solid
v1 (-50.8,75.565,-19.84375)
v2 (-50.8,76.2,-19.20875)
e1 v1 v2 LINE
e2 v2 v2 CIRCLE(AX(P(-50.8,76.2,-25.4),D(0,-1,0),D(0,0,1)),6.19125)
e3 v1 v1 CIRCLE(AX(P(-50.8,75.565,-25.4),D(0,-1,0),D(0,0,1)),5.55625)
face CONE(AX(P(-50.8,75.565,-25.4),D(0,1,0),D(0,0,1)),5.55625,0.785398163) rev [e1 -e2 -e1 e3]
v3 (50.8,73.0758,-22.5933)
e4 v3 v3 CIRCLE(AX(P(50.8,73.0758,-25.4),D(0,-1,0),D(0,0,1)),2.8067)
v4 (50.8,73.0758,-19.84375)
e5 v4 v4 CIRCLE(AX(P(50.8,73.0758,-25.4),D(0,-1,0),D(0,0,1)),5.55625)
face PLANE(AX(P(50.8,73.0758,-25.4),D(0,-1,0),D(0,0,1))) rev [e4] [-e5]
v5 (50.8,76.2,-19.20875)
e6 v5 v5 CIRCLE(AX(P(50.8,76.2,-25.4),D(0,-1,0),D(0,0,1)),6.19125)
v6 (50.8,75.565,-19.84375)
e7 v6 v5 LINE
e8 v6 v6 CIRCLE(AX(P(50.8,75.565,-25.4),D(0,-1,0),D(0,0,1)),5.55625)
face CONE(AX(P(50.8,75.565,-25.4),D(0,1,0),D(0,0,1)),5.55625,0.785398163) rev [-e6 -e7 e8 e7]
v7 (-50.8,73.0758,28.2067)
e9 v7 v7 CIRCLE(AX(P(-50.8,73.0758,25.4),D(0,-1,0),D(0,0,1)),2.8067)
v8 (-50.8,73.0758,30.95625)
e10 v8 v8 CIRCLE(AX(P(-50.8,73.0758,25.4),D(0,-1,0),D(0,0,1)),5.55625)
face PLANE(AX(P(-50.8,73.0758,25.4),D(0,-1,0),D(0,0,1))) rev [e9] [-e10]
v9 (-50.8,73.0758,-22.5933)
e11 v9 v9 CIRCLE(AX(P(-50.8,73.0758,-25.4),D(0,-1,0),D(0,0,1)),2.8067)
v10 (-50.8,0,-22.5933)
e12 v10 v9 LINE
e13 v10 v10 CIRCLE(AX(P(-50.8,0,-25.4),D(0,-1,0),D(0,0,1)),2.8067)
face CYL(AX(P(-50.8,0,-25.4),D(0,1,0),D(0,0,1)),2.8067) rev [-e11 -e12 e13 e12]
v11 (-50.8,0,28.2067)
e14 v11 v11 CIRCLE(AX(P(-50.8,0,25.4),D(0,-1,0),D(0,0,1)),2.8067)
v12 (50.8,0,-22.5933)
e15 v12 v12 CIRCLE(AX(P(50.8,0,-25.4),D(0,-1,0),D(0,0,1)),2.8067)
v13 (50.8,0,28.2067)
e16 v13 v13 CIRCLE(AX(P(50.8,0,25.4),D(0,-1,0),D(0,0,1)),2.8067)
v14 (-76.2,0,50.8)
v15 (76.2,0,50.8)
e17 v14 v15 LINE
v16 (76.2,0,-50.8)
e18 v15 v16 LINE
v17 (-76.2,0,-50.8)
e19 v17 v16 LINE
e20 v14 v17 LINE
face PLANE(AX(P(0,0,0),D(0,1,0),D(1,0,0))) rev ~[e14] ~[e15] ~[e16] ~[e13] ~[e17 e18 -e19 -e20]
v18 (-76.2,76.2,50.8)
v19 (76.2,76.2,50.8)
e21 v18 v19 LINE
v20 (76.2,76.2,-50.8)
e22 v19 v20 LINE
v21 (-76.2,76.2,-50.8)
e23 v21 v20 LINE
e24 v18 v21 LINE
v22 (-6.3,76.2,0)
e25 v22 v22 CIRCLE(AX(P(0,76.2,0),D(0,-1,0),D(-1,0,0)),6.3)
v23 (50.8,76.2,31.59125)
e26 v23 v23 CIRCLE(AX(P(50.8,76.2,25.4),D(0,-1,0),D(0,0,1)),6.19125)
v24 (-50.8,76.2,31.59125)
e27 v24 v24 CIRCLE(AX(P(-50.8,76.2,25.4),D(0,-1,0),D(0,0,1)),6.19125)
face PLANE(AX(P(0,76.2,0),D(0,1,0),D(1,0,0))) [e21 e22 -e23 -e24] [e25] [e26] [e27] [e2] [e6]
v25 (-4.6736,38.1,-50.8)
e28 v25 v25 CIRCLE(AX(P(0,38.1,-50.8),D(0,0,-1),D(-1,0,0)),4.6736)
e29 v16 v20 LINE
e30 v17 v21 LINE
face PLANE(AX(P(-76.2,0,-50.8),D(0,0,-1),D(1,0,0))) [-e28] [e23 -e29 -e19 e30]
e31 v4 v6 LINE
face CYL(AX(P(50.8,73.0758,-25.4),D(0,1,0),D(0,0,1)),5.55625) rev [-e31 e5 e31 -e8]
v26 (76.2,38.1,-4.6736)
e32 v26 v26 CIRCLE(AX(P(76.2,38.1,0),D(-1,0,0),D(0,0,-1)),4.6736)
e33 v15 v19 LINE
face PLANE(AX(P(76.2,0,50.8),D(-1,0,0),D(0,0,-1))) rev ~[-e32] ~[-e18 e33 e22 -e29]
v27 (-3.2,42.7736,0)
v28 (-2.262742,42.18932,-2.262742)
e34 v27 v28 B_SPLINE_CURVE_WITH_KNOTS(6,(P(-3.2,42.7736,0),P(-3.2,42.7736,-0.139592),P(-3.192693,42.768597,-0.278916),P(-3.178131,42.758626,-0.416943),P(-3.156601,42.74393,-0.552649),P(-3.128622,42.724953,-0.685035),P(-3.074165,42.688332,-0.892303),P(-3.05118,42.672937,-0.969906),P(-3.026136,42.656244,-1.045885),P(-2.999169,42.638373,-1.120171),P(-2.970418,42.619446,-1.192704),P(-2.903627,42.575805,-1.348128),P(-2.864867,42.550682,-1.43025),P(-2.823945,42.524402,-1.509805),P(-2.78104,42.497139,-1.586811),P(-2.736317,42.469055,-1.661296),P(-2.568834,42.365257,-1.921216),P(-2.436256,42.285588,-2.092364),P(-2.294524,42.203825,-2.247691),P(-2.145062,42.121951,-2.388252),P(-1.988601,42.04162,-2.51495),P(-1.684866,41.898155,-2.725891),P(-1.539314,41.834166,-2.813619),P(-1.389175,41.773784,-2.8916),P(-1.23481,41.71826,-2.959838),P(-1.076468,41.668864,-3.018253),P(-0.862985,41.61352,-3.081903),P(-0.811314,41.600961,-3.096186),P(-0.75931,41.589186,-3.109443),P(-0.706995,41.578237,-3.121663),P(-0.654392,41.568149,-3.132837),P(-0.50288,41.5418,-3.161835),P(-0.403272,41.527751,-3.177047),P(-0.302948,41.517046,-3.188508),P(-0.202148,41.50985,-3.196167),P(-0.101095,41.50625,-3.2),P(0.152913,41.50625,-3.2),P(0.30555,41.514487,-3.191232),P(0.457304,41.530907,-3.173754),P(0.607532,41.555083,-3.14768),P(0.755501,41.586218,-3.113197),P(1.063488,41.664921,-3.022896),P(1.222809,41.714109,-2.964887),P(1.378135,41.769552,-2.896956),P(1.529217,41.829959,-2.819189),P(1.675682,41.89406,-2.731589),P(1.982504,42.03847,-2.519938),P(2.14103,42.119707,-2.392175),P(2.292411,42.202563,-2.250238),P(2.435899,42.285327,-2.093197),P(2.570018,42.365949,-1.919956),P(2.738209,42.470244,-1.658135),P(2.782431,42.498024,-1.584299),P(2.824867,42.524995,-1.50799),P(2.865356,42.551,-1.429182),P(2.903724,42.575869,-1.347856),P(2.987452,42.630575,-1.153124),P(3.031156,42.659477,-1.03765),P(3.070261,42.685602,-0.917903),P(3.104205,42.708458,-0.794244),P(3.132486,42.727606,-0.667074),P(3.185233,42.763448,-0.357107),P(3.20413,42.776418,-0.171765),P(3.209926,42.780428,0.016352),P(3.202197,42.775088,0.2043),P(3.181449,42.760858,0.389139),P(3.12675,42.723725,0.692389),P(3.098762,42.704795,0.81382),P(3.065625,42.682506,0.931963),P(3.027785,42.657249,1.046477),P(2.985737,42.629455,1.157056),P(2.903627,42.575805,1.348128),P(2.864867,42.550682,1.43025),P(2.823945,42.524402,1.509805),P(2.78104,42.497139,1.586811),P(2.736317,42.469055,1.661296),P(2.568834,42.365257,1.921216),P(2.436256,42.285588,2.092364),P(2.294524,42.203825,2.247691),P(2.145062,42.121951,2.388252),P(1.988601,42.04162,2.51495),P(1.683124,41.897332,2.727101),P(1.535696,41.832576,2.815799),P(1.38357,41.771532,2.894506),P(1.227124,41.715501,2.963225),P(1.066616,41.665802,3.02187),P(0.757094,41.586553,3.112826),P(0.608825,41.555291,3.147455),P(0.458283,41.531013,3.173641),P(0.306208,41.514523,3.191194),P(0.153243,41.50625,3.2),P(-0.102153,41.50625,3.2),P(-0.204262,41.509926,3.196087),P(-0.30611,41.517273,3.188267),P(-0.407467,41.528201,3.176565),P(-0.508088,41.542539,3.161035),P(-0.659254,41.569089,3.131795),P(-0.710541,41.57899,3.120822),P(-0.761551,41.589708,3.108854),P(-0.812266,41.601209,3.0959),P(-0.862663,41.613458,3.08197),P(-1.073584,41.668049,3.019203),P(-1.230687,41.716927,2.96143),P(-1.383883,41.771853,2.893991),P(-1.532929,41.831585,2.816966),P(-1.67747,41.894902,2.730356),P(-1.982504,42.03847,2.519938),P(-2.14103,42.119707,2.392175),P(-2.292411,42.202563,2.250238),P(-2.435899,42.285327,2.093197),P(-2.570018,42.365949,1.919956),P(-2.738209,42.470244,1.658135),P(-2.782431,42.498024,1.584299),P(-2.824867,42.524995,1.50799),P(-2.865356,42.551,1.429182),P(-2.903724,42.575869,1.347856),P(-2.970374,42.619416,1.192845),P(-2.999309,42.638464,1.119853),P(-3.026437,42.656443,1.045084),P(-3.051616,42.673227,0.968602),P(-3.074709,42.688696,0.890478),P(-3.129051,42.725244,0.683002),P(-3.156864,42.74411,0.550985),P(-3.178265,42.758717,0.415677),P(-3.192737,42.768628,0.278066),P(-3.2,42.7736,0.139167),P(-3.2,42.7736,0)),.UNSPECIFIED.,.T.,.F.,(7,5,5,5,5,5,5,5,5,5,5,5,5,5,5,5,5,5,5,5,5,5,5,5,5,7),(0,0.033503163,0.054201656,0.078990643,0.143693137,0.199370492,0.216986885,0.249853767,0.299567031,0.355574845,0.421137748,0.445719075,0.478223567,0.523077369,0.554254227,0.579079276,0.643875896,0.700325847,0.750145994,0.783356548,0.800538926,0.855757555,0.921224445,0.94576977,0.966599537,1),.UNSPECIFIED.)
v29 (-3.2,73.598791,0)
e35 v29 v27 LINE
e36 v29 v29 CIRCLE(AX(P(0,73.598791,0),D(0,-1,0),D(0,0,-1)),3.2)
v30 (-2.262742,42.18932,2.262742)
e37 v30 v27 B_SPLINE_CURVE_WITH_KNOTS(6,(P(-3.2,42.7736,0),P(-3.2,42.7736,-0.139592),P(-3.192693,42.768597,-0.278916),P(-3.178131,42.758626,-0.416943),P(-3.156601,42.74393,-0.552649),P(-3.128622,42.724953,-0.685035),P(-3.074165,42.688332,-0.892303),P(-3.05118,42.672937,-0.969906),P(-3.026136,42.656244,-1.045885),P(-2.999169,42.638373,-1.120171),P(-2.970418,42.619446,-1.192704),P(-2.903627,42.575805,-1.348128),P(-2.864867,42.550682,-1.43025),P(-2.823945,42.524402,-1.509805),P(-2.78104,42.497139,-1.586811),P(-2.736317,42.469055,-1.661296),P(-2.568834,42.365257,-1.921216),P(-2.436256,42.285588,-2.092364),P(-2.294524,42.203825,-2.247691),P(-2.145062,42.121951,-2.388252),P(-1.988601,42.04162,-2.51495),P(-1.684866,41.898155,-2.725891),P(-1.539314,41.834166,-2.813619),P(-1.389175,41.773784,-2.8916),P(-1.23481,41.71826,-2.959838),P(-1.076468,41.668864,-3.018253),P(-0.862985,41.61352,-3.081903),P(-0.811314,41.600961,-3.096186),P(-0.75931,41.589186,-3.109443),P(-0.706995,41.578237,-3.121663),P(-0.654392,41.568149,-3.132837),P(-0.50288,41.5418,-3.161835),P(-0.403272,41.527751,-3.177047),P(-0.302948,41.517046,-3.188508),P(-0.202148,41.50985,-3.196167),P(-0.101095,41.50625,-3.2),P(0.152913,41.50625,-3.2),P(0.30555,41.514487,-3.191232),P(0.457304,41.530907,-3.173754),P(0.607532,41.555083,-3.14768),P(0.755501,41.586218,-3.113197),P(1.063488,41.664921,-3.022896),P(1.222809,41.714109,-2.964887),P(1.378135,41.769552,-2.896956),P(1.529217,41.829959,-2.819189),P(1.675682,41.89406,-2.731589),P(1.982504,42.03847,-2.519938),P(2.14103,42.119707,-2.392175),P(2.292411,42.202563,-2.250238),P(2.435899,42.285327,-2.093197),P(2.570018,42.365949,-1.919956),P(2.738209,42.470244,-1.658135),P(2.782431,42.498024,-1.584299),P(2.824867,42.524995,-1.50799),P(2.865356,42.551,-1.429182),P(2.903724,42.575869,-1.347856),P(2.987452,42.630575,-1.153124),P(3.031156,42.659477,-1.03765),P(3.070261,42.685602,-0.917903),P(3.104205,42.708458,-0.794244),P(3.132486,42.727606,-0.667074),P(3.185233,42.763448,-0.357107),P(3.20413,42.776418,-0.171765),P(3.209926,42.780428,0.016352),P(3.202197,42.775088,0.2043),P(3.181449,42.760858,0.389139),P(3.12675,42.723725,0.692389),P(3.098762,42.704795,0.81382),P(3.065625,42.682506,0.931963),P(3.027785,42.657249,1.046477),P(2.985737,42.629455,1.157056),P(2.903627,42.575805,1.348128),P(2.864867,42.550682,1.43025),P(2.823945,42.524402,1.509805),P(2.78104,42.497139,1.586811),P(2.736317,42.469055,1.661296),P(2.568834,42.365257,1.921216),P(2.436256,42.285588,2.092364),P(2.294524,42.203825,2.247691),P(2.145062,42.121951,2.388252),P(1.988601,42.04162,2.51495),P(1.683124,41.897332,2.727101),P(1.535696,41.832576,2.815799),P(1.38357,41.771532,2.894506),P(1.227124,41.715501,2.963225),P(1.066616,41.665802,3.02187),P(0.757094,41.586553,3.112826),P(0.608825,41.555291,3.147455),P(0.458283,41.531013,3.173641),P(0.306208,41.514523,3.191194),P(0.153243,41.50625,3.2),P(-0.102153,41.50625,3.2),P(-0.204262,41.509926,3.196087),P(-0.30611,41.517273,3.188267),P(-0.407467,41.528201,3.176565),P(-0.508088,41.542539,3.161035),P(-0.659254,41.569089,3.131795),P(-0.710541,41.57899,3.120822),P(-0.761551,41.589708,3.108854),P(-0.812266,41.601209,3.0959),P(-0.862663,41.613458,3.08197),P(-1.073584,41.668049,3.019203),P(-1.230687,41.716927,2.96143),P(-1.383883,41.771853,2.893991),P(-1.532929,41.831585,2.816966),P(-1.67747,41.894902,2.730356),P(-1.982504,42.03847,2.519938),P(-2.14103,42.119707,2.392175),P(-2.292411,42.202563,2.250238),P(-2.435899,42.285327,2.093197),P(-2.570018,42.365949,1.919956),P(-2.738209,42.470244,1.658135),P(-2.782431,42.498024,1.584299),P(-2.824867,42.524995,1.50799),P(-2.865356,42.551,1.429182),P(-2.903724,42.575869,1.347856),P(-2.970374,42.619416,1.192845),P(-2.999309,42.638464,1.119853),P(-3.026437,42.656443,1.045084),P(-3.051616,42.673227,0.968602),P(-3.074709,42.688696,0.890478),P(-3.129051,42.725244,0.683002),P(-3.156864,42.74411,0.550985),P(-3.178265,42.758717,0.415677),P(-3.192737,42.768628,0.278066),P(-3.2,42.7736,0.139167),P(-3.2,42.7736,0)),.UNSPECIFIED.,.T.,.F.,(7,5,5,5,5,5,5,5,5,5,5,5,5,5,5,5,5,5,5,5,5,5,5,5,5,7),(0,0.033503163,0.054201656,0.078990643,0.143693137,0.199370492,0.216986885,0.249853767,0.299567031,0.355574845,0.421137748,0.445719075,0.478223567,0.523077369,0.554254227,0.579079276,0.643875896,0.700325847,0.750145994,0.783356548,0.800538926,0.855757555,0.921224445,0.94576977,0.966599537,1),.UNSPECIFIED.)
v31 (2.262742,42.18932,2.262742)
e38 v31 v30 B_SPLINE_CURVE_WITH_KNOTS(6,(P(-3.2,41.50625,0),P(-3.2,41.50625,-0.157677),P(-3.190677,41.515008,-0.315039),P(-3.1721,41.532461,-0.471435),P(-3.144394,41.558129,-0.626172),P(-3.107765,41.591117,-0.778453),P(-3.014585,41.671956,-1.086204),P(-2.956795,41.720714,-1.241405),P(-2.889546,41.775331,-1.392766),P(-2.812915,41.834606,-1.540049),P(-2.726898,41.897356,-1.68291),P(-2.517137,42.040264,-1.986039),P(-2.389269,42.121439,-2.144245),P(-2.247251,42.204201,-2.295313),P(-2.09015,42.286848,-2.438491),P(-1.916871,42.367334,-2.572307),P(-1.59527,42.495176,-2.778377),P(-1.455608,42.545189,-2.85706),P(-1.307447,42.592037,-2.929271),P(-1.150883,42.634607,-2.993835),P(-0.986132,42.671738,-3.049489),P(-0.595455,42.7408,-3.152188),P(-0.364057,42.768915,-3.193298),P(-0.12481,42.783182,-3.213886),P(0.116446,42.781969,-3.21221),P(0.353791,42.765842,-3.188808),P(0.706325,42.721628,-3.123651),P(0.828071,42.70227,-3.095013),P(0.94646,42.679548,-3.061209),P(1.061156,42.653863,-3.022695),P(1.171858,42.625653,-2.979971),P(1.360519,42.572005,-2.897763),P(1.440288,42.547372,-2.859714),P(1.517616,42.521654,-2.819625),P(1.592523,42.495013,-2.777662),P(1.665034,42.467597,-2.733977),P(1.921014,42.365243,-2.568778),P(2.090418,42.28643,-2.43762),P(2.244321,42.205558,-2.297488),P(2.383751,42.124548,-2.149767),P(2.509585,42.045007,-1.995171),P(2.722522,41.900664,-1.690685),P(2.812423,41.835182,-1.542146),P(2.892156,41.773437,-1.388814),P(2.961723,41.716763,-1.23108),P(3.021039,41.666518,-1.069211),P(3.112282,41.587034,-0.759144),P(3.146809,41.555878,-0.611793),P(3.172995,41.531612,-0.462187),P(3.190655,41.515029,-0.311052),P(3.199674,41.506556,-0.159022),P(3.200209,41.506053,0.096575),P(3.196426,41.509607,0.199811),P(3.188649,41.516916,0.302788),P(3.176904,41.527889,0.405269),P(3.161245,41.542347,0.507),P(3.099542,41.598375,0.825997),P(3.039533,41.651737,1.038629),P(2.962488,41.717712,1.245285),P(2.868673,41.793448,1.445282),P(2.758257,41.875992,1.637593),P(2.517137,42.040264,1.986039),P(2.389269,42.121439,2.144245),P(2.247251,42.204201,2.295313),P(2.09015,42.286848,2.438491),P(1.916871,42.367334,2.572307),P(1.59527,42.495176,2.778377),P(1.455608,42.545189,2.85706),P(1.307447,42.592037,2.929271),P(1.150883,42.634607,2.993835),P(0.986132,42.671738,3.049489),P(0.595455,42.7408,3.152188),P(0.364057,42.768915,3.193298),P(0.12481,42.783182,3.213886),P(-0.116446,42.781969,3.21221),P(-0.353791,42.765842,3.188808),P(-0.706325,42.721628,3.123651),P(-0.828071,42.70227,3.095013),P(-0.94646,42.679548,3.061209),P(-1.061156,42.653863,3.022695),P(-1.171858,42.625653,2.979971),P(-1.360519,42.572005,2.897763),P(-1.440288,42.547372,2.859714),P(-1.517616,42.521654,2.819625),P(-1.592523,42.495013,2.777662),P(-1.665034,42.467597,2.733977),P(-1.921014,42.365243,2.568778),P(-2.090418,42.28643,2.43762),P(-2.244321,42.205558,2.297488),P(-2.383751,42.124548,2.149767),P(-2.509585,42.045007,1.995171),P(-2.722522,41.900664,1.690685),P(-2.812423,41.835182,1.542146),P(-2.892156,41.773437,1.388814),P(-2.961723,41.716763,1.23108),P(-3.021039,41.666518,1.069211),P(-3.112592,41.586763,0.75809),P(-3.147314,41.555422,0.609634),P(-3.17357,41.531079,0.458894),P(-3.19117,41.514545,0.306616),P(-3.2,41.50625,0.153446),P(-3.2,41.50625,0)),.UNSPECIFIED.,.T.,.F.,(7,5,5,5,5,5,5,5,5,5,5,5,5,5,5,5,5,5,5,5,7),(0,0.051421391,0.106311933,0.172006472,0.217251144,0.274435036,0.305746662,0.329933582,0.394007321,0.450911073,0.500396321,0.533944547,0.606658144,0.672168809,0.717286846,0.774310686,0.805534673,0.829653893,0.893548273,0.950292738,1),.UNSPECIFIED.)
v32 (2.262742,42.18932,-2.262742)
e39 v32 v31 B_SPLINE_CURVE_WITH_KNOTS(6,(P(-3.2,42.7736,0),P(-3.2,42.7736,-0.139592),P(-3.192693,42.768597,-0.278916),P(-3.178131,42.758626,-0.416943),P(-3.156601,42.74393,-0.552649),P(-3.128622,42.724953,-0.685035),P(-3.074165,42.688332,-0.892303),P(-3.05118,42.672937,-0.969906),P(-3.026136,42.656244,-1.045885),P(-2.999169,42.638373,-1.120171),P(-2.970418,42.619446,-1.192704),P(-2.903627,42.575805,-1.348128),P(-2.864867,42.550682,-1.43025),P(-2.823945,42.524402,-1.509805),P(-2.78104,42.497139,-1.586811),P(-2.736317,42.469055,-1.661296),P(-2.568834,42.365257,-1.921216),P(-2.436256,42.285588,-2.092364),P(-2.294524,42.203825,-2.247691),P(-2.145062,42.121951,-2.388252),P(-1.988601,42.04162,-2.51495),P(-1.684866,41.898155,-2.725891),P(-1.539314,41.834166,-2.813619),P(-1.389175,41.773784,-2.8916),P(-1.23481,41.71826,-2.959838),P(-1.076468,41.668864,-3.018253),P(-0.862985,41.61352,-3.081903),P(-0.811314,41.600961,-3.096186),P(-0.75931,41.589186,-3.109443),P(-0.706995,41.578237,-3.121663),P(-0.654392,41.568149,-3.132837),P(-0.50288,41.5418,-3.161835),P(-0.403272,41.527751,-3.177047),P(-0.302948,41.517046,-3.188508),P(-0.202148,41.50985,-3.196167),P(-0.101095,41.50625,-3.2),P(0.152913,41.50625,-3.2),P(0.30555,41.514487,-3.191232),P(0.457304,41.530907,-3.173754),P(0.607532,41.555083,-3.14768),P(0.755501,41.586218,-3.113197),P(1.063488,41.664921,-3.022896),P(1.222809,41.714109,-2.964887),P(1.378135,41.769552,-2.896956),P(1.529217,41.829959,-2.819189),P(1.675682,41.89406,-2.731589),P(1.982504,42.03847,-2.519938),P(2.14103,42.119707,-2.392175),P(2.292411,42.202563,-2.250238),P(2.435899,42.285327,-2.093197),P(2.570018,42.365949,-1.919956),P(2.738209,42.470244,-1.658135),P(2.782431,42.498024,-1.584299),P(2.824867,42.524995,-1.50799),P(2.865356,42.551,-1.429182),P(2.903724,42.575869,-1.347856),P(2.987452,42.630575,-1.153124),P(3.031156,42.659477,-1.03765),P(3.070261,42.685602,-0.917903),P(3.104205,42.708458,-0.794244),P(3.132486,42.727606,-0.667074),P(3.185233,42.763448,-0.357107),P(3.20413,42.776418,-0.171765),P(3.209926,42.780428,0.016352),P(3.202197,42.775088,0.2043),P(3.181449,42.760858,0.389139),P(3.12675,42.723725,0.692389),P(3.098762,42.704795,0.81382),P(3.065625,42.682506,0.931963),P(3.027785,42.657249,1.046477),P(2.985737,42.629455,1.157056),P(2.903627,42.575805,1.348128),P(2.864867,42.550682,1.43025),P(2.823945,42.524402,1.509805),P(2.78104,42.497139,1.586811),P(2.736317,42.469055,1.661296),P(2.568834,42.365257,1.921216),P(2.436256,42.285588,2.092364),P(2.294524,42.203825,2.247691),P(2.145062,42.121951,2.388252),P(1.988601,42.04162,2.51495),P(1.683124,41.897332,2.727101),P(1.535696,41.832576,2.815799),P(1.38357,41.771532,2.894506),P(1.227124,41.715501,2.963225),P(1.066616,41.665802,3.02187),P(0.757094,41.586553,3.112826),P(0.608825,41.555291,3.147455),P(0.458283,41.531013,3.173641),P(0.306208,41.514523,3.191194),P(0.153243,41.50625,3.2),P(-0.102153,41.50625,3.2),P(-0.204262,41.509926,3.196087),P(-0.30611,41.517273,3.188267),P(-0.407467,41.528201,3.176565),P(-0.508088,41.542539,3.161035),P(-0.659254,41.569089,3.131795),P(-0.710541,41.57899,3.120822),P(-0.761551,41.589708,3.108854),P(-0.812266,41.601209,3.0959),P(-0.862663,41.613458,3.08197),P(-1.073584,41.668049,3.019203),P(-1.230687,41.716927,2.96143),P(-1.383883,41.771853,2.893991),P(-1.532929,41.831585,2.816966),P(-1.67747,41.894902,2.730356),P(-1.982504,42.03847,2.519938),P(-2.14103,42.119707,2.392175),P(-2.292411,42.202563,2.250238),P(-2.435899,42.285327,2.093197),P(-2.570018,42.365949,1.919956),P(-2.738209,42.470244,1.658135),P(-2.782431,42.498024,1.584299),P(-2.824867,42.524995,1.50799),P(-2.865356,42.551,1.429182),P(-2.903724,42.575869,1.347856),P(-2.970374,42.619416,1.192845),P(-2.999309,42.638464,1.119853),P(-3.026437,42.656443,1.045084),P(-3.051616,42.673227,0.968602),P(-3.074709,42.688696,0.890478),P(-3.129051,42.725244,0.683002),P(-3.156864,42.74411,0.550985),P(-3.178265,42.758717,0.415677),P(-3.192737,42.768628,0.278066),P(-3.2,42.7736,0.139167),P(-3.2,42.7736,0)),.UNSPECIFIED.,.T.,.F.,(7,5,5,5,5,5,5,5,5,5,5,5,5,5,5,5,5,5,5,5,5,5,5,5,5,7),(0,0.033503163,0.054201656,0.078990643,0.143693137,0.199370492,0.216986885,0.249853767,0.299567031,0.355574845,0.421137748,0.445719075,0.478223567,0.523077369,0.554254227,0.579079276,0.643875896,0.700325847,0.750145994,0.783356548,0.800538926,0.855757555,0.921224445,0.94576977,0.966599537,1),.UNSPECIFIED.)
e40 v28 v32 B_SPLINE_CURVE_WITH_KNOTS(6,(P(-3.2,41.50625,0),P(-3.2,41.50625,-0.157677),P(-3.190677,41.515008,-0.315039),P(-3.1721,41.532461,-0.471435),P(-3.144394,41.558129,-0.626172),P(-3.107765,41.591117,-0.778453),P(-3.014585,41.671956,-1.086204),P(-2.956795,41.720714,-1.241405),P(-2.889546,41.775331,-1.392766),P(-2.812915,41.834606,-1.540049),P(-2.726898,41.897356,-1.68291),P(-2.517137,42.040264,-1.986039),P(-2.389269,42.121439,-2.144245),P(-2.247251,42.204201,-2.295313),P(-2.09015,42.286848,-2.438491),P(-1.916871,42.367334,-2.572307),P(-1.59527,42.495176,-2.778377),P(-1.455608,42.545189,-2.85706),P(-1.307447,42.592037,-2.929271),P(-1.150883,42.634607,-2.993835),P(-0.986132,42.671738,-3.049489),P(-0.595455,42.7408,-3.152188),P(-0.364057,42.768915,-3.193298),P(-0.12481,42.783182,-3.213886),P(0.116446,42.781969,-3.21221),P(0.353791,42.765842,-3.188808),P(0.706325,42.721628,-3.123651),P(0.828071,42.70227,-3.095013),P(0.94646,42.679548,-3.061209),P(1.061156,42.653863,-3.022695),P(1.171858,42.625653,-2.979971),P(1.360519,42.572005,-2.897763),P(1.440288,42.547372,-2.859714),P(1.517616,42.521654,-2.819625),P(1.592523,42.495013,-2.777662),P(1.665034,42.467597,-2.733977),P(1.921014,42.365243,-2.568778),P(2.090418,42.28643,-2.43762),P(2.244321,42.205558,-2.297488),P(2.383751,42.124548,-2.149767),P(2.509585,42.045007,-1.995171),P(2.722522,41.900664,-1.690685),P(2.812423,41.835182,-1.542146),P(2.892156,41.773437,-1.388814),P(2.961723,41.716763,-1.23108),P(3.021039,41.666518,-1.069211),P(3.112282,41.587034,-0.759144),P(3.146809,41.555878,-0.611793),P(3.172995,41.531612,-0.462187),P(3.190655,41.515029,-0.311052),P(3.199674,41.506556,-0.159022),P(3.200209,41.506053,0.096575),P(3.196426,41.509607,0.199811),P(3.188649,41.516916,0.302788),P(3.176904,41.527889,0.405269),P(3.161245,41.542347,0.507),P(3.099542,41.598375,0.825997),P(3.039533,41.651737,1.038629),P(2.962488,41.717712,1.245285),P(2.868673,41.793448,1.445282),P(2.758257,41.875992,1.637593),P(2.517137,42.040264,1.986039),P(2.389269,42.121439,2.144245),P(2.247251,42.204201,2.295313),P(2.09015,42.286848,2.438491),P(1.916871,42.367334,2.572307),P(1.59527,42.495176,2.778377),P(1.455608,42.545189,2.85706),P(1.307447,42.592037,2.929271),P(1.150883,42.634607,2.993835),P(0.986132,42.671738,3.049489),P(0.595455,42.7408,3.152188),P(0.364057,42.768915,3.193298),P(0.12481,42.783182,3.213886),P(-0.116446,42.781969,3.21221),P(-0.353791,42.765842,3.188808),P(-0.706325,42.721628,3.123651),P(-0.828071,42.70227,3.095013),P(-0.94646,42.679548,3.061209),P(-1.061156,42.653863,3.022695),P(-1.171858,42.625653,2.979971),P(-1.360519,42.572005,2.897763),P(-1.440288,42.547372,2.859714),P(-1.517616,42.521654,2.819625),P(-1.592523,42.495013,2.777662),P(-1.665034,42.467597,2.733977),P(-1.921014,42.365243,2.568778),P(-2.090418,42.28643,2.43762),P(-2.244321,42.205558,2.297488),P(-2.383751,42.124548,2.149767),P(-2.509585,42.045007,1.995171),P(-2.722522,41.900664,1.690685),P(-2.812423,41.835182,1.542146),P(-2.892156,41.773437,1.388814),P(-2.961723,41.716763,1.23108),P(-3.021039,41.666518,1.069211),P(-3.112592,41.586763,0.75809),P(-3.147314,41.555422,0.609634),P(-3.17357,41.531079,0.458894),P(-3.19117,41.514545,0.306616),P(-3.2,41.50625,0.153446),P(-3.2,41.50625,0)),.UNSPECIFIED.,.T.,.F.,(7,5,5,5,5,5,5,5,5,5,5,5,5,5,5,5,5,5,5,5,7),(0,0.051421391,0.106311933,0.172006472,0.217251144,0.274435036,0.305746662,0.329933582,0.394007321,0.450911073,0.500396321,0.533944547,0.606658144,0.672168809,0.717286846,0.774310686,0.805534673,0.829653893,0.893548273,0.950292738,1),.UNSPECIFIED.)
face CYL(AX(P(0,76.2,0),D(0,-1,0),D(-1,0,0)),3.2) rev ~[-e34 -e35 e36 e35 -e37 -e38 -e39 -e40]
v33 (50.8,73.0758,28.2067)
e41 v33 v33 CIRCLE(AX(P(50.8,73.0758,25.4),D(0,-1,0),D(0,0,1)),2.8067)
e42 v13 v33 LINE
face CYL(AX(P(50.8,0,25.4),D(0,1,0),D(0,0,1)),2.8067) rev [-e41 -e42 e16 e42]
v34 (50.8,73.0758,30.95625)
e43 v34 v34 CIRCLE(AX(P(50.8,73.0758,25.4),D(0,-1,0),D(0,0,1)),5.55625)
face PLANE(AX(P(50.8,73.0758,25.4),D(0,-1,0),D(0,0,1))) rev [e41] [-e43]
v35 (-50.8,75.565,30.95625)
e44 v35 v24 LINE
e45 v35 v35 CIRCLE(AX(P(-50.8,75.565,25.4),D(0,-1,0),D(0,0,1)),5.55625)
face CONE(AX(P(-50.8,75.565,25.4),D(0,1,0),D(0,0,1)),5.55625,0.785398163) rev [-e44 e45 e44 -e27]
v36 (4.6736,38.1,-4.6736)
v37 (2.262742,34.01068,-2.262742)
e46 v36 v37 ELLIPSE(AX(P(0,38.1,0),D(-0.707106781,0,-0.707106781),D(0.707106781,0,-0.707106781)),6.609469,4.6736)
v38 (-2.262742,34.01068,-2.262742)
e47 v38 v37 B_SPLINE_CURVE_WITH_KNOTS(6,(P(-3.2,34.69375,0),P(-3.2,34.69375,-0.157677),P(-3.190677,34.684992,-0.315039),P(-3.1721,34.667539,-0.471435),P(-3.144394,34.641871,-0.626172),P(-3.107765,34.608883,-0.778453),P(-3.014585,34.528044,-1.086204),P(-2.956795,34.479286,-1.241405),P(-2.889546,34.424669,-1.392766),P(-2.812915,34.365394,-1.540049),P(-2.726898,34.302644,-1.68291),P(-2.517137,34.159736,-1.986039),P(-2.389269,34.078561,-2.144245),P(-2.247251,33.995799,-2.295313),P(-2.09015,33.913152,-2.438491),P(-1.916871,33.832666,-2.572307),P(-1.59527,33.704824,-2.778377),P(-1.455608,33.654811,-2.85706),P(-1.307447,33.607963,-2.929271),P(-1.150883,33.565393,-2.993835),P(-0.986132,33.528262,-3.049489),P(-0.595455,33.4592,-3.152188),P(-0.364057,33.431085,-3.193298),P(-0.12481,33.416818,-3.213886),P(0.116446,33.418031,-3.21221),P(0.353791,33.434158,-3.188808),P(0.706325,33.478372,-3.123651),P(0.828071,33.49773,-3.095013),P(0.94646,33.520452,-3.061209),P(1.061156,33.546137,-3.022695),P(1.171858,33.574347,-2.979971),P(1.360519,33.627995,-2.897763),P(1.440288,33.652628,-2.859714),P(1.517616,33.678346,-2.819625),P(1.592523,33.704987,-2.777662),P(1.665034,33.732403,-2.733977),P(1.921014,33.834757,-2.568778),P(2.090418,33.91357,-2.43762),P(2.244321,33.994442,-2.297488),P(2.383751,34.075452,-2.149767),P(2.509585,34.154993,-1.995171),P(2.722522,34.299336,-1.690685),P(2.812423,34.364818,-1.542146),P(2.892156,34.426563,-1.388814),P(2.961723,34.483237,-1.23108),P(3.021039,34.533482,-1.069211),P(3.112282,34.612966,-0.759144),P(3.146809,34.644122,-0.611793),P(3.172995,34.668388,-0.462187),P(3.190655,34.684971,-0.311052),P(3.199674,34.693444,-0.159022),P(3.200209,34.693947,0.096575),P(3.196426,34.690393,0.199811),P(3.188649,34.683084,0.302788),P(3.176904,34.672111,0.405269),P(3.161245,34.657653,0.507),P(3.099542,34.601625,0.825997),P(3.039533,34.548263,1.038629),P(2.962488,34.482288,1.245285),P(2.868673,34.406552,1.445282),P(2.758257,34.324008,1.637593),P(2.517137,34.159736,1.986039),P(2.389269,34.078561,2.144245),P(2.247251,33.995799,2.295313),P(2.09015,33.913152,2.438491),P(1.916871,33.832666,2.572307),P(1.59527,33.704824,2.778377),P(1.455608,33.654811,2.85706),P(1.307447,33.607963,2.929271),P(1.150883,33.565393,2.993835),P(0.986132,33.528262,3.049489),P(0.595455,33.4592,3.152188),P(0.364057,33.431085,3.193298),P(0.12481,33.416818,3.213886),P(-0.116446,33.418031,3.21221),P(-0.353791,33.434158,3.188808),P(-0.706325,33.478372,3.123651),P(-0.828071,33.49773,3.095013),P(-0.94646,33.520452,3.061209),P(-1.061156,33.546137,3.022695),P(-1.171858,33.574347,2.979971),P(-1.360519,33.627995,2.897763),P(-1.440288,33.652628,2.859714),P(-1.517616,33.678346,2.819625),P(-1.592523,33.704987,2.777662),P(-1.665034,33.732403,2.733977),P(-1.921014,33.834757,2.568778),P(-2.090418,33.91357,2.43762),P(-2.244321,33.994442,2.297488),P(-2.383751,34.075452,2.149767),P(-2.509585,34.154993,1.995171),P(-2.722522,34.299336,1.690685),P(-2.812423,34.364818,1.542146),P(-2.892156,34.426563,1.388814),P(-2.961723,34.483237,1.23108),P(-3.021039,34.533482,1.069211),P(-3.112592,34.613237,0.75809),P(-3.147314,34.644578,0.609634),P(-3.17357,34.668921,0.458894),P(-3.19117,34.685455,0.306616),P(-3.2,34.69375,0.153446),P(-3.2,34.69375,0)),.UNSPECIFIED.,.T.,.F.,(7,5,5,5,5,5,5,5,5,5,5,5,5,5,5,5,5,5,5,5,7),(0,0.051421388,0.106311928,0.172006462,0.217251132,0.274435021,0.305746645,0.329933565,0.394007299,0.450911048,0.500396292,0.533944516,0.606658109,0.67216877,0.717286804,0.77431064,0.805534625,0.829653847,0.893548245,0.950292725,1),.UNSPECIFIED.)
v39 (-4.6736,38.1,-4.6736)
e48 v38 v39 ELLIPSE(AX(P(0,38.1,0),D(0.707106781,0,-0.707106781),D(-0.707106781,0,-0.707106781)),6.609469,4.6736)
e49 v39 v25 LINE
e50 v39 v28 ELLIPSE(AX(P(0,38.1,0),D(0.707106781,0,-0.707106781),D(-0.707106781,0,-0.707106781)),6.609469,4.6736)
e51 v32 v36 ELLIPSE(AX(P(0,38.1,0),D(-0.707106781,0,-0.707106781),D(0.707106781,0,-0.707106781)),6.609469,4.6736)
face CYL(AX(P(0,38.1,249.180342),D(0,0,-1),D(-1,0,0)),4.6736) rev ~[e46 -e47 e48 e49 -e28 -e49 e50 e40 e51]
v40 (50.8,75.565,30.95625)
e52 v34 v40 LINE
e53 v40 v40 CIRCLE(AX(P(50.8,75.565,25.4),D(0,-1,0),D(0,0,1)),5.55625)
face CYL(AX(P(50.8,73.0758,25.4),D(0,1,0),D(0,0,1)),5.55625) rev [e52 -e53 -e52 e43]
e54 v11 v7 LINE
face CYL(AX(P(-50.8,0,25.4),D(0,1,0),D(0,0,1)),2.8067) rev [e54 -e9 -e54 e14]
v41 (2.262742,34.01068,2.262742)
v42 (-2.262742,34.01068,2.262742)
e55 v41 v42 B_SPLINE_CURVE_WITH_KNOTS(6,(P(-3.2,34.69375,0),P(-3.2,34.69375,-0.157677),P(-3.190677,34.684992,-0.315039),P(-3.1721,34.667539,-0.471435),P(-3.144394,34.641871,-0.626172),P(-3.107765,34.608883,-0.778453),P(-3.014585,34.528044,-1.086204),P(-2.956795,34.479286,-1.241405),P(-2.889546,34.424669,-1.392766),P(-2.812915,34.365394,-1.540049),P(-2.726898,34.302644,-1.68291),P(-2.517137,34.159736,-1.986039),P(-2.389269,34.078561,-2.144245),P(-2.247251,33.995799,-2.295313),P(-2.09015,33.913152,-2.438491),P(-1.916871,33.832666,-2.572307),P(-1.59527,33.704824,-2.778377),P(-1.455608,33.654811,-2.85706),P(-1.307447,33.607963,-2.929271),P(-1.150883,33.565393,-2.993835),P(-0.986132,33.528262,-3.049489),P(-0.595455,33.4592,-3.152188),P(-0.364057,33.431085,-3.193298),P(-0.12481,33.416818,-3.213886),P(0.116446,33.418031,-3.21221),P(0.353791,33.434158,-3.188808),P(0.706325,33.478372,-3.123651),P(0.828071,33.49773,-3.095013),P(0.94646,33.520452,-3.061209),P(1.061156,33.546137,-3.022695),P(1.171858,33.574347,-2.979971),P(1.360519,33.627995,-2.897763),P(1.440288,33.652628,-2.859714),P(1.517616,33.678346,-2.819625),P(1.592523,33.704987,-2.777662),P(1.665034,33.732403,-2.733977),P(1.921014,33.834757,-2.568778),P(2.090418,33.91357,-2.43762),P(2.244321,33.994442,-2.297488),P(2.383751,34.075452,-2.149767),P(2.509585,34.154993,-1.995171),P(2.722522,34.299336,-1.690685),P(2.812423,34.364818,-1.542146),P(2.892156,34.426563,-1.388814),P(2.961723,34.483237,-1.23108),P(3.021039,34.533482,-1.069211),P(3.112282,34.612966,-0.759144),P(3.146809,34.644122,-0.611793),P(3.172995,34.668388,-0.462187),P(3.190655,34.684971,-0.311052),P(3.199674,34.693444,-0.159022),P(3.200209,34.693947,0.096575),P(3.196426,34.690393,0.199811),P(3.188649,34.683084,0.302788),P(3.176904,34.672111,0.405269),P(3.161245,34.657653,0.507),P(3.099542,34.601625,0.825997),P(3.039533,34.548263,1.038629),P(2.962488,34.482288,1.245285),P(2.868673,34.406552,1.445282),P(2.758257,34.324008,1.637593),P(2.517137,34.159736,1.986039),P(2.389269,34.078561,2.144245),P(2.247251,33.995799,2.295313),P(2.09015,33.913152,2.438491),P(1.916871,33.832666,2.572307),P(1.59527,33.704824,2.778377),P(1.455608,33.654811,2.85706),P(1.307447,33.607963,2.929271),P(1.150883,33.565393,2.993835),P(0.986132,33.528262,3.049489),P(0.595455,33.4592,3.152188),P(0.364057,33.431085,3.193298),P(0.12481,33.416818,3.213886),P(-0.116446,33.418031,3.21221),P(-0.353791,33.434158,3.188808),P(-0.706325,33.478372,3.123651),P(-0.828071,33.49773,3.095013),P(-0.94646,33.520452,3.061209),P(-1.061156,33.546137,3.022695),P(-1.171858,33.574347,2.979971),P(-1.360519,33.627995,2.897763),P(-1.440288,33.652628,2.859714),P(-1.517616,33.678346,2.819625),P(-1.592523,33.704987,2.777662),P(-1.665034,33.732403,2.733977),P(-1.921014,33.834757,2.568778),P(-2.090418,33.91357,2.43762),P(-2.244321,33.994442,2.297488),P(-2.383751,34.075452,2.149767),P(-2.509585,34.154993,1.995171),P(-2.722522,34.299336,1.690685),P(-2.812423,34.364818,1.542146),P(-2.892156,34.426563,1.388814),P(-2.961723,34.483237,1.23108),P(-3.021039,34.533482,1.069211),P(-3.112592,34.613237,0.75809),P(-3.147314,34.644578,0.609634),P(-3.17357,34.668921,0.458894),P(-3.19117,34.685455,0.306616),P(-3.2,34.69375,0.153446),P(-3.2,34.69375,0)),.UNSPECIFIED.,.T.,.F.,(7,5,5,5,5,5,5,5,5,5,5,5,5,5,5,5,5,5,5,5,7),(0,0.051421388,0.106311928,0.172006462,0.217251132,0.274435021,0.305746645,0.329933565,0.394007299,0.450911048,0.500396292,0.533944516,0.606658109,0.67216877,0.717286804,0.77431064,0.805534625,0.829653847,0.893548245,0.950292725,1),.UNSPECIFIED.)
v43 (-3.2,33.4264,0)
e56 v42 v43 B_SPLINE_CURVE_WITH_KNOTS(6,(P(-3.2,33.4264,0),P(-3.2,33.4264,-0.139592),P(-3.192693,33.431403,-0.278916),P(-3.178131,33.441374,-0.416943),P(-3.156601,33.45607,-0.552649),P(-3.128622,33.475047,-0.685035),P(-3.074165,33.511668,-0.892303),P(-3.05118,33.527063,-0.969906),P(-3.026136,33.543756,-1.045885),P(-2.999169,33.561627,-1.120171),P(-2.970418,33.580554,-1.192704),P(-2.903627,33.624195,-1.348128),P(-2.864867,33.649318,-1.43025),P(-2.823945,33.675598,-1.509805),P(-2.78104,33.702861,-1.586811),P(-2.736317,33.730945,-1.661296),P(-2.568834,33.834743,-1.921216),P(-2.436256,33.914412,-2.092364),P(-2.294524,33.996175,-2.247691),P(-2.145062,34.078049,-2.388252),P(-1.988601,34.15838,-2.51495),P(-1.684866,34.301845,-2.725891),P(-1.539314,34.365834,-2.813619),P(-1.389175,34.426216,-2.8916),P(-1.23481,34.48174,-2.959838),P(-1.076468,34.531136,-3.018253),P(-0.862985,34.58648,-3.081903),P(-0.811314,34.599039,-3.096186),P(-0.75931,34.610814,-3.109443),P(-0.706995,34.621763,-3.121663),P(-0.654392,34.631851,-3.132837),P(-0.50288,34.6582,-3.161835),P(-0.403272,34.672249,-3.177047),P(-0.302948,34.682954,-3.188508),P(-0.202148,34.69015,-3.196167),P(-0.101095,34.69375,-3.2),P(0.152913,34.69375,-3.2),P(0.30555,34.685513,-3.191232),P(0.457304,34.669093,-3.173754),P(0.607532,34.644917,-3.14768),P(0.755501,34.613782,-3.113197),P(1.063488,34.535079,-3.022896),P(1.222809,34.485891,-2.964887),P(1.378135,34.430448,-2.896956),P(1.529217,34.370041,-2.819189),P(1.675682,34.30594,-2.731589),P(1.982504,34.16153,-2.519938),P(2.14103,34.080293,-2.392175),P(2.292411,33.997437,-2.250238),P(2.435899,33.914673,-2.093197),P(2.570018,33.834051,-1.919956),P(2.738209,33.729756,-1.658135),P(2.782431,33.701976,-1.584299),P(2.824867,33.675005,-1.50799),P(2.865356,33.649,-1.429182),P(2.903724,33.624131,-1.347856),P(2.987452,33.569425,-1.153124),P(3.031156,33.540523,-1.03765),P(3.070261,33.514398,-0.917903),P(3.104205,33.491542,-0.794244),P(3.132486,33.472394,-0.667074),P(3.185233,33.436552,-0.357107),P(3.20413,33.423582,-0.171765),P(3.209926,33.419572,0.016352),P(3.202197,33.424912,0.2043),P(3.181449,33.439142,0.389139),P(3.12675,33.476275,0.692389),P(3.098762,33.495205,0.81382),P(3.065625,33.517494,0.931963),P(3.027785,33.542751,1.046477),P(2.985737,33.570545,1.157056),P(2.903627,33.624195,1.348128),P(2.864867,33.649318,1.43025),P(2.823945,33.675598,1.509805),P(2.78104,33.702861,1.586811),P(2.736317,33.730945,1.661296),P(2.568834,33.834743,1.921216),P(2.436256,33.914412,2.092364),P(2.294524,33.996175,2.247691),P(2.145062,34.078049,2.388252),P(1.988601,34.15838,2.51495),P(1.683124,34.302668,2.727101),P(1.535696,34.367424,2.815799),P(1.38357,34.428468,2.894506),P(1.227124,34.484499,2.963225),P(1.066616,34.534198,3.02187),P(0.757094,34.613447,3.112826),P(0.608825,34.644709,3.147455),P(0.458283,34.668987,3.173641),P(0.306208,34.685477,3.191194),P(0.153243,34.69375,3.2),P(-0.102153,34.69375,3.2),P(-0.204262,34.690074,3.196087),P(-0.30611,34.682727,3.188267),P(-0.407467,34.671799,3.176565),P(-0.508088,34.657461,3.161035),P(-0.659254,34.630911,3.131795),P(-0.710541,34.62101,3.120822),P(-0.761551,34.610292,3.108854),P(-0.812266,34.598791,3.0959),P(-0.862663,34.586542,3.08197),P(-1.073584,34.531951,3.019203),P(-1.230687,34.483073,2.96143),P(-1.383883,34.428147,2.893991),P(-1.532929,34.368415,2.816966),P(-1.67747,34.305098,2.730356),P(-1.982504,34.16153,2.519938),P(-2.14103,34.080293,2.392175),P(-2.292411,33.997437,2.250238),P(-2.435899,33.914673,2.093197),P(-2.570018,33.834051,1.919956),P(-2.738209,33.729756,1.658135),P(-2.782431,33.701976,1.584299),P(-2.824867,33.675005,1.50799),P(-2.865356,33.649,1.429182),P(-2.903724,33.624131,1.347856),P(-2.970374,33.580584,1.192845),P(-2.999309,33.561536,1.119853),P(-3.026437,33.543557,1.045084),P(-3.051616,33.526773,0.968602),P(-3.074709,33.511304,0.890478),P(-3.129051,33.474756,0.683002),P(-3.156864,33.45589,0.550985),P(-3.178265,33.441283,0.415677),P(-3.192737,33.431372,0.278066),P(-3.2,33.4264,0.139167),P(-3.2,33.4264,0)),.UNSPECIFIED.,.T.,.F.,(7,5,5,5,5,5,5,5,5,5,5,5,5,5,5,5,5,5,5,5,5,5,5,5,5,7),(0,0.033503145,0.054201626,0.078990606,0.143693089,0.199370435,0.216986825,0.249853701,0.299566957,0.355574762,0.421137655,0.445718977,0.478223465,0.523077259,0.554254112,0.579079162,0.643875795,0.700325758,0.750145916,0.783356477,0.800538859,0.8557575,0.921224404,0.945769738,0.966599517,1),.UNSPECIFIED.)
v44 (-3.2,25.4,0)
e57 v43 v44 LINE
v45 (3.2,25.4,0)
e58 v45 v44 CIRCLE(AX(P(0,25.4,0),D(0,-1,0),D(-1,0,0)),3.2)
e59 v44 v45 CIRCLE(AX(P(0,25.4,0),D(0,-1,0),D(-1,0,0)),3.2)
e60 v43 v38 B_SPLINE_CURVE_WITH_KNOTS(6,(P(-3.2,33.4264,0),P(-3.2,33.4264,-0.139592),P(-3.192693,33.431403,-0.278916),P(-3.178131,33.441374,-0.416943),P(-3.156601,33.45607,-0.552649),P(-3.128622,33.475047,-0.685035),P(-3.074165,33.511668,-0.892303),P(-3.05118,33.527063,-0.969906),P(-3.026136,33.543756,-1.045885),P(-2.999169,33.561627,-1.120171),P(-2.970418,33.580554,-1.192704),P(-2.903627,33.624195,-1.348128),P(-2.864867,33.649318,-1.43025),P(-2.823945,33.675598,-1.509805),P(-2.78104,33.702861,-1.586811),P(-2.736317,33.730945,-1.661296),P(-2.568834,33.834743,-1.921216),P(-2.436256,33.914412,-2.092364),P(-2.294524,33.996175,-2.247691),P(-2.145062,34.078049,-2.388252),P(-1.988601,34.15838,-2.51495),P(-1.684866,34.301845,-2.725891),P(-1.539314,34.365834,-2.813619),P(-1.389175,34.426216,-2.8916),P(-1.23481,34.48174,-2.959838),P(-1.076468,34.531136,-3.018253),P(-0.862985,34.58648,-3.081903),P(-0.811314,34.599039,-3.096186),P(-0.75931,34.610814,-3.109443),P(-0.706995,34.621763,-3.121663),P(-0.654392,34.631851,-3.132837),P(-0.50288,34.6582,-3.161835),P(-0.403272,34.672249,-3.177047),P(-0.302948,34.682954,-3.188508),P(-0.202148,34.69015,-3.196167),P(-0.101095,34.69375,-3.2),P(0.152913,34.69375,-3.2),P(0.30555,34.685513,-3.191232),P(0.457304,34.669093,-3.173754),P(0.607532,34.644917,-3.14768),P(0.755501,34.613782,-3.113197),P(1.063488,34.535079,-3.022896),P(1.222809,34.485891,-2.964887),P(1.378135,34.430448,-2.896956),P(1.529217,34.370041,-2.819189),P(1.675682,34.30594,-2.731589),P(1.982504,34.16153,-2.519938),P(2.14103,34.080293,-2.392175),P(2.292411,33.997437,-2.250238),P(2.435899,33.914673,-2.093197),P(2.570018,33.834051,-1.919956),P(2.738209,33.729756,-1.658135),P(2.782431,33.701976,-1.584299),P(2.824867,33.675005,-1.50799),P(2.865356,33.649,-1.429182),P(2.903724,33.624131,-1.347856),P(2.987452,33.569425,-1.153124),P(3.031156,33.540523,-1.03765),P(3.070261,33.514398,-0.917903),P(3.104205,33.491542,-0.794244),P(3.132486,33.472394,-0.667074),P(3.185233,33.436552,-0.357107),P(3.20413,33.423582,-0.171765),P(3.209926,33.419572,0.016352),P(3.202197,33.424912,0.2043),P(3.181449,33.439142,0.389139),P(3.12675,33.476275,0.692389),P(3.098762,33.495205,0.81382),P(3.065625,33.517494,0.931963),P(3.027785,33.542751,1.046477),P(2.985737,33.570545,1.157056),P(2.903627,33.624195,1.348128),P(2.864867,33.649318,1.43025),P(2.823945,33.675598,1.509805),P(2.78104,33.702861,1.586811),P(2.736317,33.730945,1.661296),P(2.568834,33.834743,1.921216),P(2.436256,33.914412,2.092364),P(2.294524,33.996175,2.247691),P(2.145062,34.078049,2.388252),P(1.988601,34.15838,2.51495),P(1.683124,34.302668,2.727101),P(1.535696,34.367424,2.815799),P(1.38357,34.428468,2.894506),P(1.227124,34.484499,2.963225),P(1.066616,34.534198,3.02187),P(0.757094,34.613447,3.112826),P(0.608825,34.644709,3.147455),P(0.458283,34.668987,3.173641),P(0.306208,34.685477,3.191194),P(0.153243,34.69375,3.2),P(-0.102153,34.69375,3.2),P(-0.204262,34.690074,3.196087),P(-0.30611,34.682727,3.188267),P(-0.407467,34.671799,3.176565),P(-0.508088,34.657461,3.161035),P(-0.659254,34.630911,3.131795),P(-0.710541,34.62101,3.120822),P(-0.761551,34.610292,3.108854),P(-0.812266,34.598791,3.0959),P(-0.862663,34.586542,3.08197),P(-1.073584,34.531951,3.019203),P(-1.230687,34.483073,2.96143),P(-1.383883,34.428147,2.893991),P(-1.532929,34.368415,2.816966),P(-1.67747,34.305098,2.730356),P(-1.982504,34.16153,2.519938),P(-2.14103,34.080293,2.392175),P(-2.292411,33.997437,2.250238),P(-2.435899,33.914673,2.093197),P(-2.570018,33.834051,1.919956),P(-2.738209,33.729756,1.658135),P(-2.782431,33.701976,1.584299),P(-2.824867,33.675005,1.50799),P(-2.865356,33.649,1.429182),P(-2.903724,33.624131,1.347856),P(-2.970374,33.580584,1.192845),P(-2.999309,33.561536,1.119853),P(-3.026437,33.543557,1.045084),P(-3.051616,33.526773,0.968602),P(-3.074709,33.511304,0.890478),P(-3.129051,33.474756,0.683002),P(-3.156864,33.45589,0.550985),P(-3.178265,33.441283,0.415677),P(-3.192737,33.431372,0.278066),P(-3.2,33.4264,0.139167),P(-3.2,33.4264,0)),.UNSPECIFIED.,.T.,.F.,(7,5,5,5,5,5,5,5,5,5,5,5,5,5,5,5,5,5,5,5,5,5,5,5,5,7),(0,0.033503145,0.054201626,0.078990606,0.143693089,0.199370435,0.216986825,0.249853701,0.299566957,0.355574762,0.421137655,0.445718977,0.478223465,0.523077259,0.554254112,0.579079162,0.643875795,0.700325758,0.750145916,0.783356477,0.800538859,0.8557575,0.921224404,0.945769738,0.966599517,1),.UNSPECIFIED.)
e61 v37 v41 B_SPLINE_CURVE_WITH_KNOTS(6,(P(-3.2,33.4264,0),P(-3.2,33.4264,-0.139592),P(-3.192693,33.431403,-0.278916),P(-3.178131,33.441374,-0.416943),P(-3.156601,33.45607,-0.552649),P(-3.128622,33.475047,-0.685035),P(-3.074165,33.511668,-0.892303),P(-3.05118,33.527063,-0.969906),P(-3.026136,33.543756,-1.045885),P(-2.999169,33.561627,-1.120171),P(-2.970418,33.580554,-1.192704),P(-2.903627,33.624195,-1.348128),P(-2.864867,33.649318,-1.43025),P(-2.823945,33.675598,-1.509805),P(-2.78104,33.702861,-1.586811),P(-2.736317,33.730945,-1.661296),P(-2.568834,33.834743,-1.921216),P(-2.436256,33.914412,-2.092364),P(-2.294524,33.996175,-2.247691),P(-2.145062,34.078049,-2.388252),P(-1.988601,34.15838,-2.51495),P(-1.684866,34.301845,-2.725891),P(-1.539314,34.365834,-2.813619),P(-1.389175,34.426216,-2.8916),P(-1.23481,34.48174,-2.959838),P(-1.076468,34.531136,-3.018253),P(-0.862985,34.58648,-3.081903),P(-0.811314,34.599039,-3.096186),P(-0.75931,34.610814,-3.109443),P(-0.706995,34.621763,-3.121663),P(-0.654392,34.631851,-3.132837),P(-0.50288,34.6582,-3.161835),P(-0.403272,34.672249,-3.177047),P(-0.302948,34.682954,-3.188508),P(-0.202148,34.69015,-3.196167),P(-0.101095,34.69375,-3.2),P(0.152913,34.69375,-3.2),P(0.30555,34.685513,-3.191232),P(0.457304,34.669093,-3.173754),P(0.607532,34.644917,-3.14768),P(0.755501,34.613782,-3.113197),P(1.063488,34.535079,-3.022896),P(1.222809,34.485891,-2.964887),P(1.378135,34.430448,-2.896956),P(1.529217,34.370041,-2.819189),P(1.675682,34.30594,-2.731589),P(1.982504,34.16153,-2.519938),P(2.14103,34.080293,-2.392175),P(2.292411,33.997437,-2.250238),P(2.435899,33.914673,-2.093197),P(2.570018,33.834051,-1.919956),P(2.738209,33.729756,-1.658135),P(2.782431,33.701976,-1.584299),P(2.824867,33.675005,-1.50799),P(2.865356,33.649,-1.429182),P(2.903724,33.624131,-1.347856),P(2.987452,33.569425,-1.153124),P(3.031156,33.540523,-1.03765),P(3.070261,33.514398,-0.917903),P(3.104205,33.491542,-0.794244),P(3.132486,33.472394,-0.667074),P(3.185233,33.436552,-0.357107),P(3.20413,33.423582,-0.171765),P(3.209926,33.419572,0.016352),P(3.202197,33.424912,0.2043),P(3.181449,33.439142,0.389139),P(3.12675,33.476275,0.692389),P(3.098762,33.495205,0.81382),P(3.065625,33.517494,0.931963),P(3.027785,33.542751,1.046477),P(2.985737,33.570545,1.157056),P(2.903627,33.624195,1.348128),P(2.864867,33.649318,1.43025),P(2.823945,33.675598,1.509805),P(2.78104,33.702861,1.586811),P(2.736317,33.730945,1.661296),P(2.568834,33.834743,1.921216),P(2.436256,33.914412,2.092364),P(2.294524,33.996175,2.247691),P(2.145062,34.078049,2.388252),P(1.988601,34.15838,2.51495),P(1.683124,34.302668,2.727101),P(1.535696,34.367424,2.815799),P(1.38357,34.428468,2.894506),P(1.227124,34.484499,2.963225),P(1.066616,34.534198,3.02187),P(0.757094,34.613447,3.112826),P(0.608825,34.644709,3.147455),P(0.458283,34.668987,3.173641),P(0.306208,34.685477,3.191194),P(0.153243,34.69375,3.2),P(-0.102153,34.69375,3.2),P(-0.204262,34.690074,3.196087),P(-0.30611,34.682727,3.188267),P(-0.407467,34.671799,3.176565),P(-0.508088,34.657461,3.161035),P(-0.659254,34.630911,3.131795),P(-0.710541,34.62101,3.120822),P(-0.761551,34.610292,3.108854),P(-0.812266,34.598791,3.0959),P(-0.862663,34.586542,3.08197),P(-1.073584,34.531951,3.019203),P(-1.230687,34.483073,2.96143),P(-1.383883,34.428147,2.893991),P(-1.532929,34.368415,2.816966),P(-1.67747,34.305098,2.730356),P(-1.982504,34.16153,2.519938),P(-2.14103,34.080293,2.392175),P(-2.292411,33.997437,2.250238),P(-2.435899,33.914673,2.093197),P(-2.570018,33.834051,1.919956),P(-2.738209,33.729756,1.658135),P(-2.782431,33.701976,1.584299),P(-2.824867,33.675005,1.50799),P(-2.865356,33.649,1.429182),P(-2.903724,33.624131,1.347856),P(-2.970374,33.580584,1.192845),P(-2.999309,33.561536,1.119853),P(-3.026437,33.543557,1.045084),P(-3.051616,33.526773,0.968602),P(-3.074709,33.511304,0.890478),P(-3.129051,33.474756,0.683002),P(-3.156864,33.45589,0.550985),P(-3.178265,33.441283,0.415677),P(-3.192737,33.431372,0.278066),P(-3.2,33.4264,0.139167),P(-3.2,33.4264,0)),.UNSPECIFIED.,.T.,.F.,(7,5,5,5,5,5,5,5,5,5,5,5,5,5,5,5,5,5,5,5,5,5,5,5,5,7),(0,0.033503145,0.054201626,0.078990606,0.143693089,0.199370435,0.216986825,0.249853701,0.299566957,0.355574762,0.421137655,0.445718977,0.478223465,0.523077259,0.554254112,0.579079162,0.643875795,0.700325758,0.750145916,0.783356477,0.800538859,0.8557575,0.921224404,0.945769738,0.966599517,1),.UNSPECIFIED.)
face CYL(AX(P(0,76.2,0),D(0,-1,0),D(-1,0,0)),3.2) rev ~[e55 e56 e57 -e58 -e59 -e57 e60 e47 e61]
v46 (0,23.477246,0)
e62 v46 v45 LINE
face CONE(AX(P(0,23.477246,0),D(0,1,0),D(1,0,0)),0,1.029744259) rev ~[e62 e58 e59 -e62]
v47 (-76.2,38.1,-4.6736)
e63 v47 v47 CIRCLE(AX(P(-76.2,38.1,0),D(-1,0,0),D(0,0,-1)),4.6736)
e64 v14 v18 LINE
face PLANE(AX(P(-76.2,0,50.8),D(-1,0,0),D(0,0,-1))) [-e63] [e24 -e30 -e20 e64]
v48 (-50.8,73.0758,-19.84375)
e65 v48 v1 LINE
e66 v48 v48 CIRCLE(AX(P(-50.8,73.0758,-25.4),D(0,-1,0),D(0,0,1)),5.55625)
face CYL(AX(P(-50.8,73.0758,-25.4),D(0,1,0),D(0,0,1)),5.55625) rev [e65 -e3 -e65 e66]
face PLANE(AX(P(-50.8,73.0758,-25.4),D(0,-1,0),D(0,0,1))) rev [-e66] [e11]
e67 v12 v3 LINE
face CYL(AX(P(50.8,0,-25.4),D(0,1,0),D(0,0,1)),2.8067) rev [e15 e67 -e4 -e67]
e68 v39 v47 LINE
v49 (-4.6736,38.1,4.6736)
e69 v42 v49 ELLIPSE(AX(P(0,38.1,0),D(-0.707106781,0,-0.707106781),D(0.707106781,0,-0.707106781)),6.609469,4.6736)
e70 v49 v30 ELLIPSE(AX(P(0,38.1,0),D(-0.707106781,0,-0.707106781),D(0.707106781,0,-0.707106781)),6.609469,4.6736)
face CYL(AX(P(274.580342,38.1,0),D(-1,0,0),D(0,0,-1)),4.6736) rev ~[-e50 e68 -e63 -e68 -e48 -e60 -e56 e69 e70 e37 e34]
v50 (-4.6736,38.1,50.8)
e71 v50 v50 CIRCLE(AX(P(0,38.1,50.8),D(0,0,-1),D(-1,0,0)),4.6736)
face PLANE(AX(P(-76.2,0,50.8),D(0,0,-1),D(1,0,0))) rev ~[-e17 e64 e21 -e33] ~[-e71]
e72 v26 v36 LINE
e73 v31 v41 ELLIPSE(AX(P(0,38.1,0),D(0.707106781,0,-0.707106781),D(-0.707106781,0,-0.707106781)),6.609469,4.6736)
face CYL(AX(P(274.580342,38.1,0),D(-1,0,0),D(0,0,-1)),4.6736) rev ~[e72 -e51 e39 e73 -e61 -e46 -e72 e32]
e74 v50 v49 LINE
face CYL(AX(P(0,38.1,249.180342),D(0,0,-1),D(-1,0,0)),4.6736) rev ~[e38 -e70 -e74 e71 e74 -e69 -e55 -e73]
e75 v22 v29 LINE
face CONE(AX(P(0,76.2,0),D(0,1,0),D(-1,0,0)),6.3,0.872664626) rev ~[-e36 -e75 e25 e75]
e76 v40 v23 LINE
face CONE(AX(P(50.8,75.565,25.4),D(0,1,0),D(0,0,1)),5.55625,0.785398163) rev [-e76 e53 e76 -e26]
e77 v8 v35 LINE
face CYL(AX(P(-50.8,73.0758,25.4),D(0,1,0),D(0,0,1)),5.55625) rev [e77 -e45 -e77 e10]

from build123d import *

# Parameters (mm, degrees)
SKETCH1_W                                       = 152.4
SKETCH1_H                                       = 101.6
BOSS_EXTRUDE1_DEPTH                             = 76.2
CBORE_FOR_10_BINDING_HEAD_MACHINE_S_2_COUNT     = 2
CBORE_FOR_10_BINDING_HEAD_MACHINE_S_2_PITCH     = 101.6
CBORE_FOR_10_BINDING_HEAD_MACHINE_S_3_COUNT     = 2
CBORE_FOR_10_BINDING_HEAD_MACHINE_S_3_PITCH     = 113.592253257
CBORE_FOR_10_BINDING_HEAD_MACHINE_S_4_COUNT     = 2
CBORE_FOR_10_BINDING_HEAD_MACHINE_S_4_PITCH     = 50.8
CSK_FOR_M6_FLAT_HEAD_MACHINE_SCREW1_D           = 6.4
CSK_FOR_M6_FLAT_HEAD_MACHINE_SCREW1_DEPTH       = 50.8
CSK_FOR_M6_FLAT_HEAD_MACHINE_SCREW1_CSINK_D     = 12.6
CSK_FOR_M6_FLAT_HEAD_MACHINE_SCREW1_CSINK_ANGLE = 100
CSK_FOR_M6_FLAT_HEAD_MACHINE_SCREW1_TIP         = 1.922753981
F_7_16_14_TAPPED_HOLE1_D                        = 9.3472
F_7_16_14_TAPPED_HOLE1_ON_FACE_2_D              = 9.3472


with BuildPart() as part:
    # Sketch1 → Boss-Extrude1 (new body)
    with BuildSketch(Plane(origin=(0, 0, 0), x_dir=(1, 0, 0), z_dir=(0, 1, 0))):
        Rectangle(SKETCH1_W, SKETCH1_H)
    extrude(amount=BOSS_EXTRUDE1_DEPTH)

    # Sketch7 → CBORE for #10 Binding Head Machine Screw2 (revolve, cut)
    with BuildSketch(Plane(origin=(-50.8, 76.2, -25.4), x_dir=(0, 0, 1), z_dir=(1, 0, 0))):
        Polygon((0, 0), (0, 76.2), (2.8067, 76.2), (2.8067, 3.1242), (5.55625, 3.1242), (5.55625, 0.635), (6.19125, 0), align=None)
    cbore_for_10_binding_head_machine_screw = revolve(axis=Axis((-50.8, 82.55, -25.4), (0, -1, 0)), mode=Mode.SUBTRACT)

    # CBORE for _10 Binding Head Machine S 2: CBORE for #10 Binding Head Machine Screw2 ×2
    with Locations(*[(i * CBORE_FOR_10_BINDING_HEAD_MACHINE_S_2_PITCH, 0, 0) for i in range(1, CBORE_FOR_10_BINDING_HEAD_MACHINE_S_2_COUNT)]):
        add(cbore_for_10_binding_head_machine_screw, mode=Mode.SUBTRACT)

    # CBORE for _10 Binding Head Machine S 3: CBORE for #10 Binding Head Machine Screw2 ×2
    with Locations(*[Vector(0.894427191, 0, 0.447213595) * (i * CBORE_FOR_10_BINDING_HEAD_MACHINE_S_3_PITCH) for i in range(1, CBORE_FOR_10_BINDING_HEAD_MACHINE_S_3_COUNT)]):
        add(cbore_for_10_binding_head_machine_screw, mode=Mode.SUBTRACT)

    # CBORE for _10 Binding Head Machine S 4: CBORE for #10 Binding Head Machine Screw2 ×2
    with Locations(*[(0, 0, i * CBORE_FOR_10_BINDING_HEAD_MACHINE_S_4_PITCH) for i in range(1, CBORE_FOR_10_BINDING_HEAD_MACHINE_S_4_COUNT)]):
        add(cbore_for_10_binding_head_machine_screw, mode=Mode.SUBTRACT)

    # CSK for M6 Flat Head Machine Screw1
    with Locations(Plane(origin=(0, 76.2, 0), x_dir=(1, 0, 0), z_dir=(0, 1, 0))):
        with Locations((0, 0)):
            CounterSinkHole(CSK_FOR_M6_FLAT_HEAD_MACHINE_SCREW1_D / 2, CSK_FOR_M6_FLAT_HEAD_MACHINE_SCREW1_CSINK_D / 2, depth=CSK_FOR_M6_FLAT_HEAD_MACHINE_SCREW1_DEPTH, counter_sink_angle=CSK_FOR_M6_FLAT_HEAD_MACHINE_SCREW1_CSINK_ANGLE)
            with Locations((0, 0, -(CSK_FOR_M6_FLAT_HEAD_MACHINE_SCREW1_DEPTH + CSK_FOR_M6_FLAT_HEAD_MACHINE_SCREW1_TIP / 2))):  # 118° drill point
                Cone(0, CSK_FOR_M6_FLAT_HEAD_MACHINE_SCREW1_D / 2, CSK_FOR_M6_FLAT_HEAD_MACHINE_SCREW1_TIP, mode=Mode.SUBTRACT)

    # 7/16-14 Tapped Hole1 (through all)
    with Locations(Plane(origin=(0, 38.1, 50.8), x_dir=(1, 0, 0), z_dir=(0, 0, 1))):
        with Locations((0, 0)):
            Hole(F_7_16_14_TAPPED_HOLE1_D / 2)

    # 7/16-14 Tapped Hole1 on face 2 (through all)
    with Locations(Plane(origin=(76.2, 38.1, 0), x_dir=(0, 0, 1), z_dir=(1, 0, 0))):
        with Locations((0, 0)):
            Hole(F_7_16_14_TAPPED_HOLE1_ON_FACE_2_D / 2)


solid = part.part
